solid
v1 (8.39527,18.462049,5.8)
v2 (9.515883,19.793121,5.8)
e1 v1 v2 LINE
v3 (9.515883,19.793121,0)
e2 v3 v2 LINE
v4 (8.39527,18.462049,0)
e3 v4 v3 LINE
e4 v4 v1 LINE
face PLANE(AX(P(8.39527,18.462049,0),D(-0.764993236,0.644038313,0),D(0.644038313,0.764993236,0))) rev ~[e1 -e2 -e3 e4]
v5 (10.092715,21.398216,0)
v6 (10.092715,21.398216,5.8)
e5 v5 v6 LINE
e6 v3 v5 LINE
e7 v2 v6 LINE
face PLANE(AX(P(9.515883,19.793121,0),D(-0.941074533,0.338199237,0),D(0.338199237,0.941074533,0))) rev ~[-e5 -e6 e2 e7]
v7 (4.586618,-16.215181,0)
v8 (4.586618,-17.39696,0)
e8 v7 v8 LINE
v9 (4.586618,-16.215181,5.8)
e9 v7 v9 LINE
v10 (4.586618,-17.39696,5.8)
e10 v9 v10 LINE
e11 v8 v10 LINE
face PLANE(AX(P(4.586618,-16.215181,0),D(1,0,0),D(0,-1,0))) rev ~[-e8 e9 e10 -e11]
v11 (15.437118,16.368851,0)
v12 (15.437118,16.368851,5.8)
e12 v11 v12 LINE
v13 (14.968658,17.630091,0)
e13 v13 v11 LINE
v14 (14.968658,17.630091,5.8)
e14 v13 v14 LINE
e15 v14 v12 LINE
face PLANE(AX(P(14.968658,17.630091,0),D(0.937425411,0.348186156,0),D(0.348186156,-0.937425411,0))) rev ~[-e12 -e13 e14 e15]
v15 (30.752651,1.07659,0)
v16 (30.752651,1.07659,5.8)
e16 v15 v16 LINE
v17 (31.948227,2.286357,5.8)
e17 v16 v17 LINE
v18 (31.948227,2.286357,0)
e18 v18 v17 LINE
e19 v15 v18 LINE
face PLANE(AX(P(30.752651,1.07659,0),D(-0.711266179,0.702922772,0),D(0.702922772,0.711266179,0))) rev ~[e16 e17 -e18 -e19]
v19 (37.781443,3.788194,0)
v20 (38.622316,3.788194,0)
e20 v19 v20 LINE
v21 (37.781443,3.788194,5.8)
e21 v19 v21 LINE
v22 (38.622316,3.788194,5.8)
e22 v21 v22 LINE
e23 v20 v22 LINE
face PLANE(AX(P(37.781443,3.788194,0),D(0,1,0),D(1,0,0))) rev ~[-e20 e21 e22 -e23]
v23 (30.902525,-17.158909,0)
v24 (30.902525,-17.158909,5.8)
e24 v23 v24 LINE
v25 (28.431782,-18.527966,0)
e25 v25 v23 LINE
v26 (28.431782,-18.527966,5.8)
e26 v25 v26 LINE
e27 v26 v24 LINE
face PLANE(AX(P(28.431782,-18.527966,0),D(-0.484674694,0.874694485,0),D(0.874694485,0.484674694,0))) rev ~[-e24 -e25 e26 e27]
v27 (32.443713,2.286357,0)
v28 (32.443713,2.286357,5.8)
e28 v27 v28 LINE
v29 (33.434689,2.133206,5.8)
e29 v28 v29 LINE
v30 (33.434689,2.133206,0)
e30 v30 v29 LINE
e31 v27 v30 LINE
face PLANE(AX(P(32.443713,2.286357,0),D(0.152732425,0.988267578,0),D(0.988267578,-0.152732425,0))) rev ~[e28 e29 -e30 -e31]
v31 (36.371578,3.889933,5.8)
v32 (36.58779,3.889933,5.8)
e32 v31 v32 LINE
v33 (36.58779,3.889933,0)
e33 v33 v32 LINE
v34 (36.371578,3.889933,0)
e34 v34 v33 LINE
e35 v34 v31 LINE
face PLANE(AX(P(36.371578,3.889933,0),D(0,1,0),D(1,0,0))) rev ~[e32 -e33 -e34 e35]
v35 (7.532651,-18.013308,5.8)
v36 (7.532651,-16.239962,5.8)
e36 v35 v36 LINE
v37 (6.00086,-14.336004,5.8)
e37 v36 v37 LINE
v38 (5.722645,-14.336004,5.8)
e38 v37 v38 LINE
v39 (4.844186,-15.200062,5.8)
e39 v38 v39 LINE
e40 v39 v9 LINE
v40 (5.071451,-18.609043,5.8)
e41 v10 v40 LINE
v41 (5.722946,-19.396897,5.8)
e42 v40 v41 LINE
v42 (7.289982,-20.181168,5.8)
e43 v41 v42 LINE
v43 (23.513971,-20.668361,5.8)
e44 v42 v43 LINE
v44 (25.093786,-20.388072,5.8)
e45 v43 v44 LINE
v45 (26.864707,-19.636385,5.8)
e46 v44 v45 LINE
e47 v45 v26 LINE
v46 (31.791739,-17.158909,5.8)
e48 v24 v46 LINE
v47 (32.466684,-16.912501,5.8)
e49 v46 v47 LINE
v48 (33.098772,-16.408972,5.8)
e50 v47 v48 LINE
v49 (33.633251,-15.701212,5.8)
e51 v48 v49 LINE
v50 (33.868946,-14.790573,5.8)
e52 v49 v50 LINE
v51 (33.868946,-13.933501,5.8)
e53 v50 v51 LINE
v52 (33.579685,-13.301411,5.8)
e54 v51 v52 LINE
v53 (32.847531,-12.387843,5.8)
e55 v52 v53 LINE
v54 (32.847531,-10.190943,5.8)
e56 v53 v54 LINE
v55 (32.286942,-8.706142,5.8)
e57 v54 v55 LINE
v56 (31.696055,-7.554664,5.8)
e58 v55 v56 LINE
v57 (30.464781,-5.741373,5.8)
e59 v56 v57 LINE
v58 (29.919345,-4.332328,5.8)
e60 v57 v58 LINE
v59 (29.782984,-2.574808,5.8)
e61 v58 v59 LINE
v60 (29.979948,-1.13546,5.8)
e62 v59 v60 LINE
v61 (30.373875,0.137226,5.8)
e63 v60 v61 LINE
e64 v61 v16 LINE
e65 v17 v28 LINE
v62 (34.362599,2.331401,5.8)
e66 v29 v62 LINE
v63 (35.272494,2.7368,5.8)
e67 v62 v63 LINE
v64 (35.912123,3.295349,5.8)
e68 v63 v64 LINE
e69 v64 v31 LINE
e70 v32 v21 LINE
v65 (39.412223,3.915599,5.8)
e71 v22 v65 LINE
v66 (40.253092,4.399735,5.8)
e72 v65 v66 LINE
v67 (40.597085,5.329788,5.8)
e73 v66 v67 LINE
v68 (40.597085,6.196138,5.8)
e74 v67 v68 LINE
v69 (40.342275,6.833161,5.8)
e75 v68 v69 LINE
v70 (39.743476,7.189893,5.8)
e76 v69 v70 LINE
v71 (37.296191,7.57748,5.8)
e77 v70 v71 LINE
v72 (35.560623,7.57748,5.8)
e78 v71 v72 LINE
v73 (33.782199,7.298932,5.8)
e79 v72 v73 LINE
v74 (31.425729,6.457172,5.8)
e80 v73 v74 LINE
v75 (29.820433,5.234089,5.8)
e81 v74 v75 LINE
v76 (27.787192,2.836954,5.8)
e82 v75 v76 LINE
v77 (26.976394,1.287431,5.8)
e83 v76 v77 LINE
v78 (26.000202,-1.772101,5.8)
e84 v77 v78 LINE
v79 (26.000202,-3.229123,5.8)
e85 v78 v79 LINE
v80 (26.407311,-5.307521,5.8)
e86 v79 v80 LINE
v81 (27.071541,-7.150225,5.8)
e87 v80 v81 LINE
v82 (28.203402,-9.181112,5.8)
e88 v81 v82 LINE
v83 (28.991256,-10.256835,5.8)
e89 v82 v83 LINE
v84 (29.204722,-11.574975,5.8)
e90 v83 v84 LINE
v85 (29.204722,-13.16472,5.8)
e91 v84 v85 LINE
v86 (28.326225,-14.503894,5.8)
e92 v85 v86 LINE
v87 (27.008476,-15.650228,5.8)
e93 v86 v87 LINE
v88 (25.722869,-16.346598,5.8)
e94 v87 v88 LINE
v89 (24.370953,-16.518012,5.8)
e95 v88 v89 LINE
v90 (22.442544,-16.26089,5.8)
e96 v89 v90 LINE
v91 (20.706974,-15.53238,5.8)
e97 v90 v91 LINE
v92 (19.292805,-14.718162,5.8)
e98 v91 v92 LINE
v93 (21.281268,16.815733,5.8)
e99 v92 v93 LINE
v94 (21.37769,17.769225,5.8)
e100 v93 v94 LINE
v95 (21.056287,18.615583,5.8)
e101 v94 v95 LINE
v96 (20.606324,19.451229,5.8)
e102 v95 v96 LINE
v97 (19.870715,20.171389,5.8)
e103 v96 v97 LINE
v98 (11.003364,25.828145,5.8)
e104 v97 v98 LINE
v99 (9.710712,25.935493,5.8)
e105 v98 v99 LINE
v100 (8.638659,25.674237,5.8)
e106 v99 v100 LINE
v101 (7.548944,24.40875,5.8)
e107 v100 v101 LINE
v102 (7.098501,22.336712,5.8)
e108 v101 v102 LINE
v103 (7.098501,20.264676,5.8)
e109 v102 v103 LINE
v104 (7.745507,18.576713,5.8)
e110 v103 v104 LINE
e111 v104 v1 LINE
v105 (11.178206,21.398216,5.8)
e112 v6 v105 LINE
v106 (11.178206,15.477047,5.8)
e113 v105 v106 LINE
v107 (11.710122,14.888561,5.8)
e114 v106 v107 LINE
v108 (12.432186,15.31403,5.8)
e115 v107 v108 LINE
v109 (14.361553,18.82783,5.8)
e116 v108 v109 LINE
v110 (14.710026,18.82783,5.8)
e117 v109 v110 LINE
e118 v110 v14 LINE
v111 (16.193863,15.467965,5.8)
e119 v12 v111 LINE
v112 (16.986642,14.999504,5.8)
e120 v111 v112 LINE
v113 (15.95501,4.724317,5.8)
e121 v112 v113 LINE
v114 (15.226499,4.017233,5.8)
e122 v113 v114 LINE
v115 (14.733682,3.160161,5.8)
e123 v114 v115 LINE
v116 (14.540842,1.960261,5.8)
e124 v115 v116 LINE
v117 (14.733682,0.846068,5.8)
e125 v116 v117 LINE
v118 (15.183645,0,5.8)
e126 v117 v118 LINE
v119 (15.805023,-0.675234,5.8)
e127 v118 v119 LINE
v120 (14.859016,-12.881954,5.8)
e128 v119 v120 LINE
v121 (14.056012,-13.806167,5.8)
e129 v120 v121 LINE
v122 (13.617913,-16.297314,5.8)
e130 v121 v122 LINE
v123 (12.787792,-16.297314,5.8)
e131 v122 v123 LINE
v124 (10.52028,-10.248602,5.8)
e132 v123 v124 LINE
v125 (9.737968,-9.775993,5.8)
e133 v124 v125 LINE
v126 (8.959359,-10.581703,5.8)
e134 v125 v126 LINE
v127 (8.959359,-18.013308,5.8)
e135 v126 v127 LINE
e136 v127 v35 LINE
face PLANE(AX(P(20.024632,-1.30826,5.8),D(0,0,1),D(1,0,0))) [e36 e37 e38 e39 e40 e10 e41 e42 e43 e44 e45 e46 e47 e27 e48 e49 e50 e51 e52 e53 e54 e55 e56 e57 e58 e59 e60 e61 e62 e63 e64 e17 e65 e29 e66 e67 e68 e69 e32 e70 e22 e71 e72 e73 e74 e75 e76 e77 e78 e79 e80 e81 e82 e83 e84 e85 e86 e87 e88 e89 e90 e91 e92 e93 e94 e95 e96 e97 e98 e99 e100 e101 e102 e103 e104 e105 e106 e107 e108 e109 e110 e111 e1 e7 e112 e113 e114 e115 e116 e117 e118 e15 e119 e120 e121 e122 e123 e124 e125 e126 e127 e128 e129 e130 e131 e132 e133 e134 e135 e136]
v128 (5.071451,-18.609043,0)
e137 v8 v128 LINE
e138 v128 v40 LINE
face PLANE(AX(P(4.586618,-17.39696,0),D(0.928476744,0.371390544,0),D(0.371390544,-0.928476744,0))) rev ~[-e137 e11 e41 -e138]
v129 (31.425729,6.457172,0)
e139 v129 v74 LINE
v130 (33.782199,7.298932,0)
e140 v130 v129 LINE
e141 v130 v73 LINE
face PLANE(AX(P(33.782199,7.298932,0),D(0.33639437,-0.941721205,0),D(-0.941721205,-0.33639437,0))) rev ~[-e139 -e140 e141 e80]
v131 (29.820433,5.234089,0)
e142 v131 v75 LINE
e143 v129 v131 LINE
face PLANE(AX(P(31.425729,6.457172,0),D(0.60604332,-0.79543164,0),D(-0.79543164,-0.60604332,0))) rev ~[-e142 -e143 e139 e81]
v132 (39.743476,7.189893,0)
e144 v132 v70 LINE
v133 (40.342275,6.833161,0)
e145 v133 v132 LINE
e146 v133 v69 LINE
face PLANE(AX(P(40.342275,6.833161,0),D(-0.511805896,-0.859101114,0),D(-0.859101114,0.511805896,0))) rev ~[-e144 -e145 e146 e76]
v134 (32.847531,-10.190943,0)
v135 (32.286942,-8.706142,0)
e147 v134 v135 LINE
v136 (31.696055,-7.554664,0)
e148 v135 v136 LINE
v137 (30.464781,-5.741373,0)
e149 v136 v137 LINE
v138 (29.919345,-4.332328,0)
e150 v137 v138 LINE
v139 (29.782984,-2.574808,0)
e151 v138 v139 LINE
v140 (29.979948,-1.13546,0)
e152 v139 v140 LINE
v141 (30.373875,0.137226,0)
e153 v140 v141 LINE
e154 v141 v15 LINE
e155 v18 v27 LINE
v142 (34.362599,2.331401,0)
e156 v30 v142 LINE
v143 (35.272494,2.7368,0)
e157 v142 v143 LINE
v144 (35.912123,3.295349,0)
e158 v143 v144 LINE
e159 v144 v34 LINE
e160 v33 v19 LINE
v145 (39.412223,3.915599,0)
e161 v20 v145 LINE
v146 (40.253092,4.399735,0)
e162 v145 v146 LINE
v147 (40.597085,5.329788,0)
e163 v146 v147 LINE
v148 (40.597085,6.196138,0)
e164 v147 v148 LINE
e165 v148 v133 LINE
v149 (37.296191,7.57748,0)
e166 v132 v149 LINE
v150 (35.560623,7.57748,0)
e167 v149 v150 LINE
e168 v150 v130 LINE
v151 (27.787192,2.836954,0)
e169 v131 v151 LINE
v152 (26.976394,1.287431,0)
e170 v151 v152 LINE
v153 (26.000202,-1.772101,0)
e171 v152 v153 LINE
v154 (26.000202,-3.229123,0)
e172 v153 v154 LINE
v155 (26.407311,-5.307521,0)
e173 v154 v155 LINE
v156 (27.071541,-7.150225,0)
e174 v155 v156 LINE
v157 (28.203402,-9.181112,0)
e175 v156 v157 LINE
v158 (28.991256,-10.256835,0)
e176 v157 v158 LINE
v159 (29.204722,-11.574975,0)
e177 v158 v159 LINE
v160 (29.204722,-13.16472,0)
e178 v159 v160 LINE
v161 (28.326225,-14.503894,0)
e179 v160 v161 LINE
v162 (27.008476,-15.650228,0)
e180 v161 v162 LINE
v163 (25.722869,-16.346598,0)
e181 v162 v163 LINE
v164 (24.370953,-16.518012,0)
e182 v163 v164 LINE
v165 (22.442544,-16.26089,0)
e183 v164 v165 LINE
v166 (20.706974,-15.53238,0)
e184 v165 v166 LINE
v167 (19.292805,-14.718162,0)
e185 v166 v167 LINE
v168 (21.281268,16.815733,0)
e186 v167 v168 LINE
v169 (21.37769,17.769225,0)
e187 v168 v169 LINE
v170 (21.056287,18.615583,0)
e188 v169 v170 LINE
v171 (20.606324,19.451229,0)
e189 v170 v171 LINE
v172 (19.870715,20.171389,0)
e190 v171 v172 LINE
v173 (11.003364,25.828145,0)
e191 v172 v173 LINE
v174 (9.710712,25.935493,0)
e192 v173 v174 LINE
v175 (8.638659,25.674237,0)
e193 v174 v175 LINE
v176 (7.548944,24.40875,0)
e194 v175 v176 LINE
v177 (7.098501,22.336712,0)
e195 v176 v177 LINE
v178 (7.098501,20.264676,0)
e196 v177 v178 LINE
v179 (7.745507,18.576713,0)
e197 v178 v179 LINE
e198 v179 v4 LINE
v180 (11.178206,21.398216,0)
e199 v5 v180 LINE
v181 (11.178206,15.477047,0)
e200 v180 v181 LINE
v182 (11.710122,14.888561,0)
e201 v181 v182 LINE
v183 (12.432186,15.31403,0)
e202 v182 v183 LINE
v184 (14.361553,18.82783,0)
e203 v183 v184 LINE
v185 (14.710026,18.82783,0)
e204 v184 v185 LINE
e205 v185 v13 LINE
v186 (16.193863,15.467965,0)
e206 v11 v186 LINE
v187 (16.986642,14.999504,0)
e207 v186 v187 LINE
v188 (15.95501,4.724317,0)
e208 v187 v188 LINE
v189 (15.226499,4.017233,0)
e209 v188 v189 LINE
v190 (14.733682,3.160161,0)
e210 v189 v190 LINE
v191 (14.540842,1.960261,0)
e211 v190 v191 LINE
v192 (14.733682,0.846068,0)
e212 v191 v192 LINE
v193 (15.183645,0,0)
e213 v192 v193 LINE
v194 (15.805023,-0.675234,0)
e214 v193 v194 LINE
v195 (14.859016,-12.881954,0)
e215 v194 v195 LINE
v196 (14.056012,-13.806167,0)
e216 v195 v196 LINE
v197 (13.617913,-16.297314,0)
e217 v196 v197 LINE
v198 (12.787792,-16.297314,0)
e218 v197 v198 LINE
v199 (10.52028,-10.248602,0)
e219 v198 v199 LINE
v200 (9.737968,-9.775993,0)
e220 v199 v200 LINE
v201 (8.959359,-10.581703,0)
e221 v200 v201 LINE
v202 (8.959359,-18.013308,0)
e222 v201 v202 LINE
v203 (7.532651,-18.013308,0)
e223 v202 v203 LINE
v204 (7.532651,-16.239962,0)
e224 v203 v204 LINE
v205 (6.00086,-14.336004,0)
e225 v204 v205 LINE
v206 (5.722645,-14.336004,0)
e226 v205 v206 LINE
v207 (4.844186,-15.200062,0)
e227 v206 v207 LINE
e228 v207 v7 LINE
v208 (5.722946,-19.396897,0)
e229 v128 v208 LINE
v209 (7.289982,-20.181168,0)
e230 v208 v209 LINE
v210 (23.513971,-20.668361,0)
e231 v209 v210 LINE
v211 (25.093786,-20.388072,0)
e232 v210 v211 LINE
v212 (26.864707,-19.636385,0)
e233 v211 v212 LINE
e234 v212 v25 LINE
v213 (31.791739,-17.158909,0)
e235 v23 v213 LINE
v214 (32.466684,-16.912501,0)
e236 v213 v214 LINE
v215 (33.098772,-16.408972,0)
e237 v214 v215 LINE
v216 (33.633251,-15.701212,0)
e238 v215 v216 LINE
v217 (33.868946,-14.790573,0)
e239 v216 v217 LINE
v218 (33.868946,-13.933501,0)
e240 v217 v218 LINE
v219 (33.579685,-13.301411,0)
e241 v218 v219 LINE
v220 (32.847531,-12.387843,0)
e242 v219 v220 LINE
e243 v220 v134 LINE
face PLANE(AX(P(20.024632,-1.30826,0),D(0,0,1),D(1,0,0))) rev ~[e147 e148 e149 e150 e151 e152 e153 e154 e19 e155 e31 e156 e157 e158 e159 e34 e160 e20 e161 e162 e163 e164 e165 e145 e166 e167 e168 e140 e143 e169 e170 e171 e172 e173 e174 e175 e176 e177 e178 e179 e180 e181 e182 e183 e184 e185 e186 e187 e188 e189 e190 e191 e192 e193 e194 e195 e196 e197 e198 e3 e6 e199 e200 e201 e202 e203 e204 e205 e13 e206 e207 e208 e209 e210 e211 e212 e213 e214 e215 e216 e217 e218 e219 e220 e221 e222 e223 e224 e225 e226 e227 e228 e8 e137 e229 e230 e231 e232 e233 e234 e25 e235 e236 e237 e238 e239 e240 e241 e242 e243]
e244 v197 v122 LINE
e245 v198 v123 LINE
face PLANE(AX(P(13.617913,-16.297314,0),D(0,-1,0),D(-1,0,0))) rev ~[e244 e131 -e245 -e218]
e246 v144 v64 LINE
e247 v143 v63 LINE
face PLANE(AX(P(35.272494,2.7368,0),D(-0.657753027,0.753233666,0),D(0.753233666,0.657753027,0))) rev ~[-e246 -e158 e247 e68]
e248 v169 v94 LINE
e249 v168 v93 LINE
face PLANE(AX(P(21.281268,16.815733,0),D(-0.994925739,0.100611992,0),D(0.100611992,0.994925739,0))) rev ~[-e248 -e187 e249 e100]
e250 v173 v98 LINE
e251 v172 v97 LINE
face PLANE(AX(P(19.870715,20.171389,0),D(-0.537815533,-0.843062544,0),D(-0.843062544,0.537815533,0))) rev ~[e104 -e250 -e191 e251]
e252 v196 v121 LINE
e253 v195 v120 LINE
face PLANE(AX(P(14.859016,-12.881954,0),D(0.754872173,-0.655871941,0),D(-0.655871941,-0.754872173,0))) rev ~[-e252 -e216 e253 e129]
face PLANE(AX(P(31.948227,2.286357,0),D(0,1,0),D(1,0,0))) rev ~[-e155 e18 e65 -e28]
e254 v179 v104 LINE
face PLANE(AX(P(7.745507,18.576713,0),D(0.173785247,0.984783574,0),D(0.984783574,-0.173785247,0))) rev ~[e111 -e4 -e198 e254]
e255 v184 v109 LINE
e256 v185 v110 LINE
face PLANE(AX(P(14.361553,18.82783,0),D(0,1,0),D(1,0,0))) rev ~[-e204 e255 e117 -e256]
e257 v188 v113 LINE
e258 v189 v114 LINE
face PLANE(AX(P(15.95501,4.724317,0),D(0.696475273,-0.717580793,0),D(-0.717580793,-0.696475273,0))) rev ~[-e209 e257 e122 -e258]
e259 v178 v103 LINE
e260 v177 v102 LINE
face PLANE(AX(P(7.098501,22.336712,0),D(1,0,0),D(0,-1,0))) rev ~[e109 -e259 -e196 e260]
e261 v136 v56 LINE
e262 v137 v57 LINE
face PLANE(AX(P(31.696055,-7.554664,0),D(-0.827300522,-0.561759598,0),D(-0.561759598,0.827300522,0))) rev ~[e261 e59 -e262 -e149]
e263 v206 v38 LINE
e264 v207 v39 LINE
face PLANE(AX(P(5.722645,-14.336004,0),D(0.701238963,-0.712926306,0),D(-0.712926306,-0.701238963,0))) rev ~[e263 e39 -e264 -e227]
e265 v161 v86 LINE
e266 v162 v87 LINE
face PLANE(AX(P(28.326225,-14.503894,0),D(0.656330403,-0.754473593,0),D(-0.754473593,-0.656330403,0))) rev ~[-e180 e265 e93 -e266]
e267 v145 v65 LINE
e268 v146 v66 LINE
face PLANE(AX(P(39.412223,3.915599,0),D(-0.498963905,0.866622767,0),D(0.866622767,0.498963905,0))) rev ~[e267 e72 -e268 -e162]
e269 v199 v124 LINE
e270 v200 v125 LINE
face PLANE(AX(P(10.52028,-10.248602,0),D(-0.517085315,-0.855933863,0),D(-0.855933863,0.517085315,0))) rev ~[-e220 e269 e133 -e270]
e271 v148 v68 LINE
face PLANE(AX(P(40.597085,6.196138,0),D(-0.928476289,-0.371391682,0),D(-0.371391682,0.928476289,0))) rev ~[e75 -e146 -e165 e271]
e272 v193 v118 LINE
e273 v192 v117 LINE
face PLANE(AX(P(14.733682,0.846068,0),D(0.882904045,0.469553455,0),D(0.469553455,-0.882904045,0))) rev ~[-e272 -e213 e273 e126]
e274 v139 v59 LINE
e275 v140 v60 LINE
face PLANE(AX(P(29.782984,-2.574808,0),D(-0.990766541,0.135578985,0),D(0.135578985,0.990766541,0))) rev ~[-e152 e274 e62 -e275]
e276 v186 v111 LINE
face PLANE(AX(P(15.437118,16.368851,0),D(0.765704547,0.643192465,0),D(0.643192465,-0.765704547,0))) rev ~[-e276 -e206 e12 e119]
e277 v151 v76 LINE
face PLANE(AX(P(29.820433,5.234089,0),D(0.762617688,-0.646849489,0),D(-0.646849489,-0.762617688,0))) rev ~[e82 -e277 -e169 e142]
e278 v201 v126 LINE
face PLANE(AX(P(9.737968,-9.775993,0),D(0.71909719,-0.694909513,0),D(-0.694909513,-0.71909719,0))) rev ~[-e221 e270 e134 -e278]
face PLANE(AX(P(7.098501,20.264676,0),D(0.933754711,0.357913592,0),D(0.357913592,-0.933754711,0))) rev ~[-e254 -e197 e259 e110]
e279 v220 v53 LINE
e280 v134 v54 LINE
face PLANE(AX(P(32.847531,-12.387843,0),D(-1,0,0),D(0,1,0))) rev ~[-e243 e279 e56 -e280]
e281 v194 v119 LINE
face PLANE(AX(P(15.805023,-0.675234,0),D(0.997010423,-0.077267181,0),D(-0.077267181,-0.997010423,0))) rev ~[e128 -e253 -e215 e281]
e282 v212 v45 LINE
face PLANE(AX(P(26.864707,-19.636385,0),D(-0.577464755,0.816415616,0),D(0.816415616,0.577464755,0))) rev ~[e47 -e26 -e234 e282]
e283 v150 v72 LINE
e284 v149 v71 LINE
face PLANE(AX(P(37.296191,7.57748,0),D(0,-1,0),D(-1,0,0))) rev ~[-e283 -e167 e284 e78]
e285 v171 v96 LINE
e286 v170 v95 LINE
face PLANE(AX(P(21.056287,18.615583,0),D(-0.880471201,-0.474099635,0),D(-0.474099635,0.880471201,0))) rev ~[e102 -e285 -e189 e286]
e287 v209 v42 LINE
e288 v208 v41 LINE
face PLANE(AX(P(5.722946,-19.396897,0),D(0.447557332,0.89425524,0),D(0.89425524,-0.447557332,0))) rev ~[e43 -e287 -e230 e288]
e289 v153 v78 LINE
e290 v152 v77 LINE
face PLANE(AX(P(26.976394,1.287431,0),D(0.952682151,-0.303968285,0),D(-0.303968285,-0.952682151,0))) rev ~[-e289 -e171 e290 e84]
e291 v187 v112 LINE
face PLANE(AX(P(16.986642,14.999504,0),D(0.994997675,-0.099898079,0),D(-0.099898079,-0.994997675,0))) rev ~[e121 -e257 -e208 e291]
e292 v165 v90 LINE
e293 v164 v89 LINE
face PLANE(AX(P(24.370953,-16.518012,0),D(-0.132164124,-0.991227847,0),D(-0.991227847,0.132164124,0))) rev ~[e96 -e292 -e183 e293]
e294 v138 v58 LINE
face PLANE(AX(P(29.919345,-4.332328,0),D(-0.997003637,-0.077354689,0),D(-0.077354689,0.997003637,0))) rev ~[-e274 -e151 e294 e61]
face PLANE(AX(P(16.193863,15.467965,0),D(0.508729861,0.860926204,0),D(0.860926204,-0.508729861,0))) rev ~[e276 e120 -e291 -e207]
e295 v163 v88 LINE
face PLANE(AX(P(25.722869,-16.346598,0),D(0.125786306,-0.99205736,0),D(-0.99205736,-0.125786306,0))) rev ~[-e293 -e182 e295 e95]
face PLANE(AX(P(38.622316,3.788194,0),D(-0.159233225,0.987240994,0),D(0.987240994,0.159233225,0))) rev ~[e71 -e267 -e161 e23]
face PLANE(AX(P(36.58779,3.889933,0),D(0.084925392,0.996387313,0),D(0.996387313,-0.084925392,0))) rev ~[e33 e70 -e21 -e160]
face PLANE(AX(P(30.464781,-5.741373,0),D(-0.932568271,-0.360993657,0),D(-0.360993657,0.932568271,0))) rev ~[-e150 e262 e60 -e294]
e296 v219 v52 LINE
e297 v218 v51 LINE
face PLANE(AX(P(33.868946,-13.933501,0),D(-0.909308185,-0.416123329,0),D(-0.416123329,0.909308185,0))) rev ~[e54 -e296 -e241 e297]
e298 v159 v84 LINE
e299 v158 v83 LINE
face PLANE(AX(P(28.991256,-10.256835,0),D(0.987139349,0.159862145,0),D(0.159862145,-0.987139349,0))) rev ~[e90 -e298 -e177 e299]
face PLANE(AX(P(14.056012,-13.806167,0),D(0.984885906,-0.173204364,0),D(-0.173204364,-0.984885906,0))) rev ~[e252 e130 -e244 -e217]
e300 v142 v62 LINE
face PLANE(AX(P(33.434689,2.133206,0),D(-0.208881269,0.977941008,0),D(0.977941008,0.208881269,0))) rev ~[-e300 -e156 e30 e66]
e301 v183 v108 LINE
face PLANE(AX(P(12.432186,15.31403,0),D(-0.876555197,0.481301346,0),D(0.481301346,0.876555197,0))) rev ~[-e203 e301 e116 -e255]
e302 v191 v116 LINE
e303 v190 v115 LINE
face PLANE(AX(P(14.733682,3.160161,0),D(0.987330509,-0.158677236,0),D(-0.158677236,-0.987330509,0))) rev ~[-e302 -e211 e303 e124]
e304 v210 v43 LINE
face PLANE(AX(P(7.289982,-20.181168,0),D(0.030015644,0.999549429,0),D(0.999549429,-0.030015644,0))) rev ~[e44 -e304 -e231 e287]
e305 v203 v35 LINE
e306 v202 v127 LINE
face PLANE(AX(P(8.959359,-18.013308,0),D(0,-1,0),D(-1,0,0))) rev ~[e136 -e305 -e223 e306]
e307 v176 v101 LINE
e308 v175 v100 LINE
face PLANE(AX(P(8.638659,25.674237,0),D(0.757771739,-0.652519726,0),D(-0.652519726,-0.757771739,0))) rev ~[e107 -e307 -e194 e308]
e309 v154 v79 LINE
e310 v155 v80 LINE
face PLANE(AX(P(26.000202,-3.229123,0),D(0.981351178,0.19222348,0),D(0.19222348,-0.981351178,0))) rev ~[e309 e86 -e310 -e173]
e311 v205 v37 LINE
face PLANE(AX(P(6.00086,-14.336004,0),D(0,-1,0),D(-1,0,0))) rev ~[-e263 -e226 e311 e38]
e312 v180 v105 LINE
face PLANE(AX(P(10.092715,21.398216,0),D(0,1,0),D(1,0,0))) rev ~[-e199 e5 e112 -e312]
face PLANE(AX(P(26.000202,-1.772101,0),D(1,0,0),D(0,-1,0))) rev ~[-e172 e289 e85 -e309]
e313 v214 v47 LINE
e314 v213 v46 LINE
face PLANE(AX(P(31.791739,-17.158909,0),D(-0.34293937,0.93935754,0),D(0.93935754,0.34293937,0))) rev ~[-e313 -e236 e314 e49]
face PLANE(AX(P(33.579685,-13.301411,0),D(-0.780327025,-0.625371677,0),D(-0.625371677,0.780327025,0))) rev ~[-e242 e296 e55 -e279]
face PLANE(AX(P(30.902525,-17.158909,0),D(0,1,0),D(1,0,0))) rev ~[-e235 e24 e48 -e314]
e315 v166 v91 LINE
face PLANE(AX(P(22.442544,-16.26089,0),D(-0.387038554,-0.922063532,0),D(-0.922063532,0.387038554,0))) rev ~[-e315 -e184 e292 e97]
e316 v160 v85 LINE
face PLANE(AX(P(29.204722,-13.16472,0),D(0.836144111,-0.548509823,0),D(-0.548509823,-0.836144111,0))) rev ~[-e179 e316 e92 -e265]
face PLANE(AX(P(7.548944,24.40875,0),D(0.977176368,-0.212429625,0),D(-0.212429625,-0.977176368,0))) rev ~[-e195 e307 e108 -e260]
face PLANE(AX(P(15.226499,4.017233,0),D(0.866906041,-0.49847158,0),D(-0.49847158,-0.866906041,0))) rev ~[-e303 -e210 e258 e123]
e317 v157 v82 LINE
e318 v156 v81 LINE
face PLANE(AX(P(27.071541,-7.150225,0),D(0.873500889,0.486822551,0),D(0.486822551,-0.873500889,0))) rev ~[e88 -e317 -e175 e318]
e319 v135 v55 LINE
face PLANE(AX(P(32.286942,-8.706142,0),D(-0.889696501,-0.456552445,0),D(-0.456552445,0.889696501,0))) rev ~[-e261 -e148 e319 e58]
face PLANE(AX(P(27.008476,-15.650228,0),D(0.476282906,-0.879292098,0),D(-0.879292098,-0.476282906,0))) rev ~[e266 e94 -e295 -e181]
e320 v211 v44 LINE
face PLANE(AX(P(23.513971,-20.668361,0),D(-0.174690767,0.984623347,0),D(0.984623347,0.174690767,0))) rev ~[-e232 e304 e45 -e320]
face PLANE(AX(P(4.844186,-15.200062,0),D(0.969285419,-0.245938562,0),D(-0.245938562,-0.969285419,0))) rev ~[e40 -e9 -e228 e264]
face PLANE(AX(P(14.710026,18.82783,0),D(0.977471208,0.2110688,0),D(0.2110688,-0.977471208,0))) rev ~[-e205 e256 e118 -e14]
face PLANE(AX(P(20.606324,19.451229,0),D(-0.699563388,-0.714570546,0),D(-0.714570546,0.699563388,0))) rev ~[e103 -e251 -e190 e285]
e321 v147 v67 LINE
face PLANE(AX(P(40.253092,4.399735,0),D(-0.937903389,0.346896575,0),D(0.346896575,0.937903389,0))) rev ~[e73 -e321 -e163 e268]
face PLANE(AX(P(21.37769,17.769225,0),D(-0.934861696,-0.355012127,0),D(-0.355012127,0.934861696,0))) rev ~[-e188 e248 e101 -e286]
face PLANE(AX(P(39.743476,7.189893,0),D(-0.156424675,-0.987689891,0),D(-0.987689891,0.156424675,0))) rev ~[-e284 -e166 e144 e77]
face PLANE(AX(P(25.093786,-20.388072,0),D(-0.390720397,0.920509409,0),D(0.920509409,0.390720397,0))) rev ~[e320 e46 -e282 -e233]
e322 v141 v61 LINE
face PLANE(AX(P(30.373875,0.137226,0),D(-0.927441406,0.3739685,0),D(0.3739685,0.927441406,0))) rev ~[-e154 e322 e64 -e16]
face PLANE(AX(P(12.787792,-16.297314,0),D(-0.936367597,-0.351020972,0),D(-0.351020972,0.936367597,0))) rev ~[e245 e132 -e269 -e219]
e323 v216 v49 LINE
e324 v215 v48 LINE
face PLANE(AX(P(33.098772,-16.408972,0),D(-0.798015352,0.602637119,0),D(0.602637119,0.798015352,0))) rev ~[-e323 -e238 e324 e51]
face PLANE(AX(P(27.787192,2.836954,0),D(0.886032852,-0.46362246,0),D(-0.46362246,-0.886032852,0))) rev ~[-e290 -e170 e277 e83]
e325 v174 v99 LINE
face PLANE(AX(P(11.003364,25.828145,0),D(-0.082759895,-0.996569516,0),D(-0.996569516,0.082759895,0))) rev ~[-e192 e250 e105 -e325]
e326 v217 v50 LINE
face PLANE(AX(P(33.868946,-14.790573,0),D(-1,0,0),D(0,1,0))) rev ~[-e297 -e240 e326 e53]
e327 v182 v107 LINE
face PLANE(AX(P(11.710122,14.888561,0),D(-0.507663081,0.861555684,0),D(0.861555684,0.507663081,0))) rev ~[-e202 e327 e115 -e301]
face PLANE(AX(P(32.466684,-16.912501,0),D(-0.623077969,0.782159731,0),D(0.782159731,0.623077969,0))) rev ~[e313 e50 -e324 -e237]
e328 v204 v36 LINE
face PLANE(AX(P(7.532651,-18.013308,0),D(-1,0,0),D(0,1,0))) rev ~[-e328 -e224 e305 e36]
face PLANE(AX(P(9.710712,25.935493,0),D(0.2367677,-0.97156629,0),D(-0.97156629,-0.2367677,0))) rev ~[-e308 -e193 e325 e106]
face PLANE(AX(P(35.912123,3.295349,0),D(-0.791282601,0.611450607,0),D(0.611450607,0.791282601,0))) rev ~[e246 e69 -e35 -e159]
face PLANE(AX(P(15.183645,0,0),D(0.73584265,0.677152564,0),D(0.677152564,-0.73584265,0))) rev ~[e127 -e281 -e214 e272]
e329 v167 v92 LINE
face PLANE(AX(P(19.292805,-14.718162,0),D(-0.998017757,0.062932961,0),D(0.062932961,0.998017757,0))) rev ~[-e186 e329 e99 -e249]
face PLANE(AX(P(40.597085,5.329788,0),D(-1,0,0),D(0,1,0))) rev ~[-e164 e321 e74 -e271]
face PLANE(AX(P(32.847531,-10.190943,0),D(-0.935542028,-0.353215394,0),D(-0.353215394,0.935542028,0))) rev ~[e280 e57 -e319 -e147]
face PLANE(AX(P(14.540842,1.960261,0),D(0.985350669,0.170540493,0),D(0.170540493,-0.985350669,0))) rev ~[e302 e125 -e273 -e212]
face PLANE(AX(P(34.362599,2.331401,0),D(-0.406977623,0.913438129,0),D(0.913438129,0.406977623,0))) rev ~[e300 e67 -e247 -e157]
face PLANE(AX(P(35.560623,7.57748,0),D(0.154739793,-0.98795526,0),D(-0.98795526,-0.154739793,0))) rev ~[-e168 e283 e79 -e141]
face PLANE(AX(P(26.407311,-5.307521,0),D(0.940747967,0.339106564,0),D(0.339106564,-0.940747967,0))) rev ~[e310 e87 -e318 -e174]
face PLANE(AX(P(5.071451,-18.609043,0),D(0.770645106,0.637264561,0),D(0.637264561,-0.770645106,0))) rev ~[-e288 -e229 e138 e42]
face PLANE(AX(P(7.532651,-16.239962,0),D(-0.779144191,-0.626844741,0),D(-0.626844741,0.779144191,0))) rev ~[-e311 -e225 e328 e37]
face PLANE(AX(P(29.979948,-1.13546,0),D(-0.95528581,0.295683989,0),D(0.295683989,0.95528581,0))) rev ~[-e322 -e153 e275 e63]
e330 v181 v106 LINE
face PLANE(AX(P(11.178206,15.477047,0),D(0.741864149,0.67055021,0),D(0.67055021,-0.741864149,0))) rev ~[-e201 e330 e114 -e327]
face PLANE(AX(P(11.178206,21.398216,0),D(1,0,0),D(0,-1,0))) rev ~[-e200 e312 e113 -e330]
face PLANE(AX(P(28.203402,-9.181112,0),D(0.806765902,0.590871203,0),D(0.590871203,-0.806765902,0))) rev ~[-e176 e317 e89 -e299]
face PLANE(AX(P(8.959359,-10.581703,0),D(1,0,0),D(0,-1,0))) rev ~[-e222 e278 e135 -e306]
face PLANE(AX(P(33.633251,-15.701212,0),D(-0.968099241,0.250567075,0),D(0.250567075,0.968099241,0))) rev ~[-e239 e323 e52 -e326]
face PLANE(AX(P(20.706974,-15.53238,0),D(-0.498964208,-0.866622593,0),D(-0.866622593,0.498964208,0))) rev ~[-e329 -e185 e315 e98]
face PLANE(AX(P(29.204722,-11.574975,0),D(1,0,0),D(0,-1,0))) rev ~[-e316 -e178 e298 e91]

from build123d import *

# Parameters (mm, degrees)
F1_DEPTH = 5.8


with BuildPart() as f1:
    # F0 (on Top) → F1 (new body)
    with BuildSketch(Plane.XY):
        Polygon((19.870715, 20.171389), (11.003364, 25.828145), (9.710712, 25.935493), (8.638659, 25.674237), (7.548944, 24.40875), (7.098501, 22.336712), (7.098501, 20.264676), (7.745507, 18.576713), (8.39527, 18.462049), (9.515883, 19.793121), (10.092715, 21.398216), (11.178206, 21.398216), (11.178206, 15.477047), (11.710122, 14.888561), (12.432186, 15.31403), (14.361553, 18.82783), (14.710026, 18.82783), (14.968658, 17.630091), (15.437118, 16.368851), (16.193863, 15.467965), (16.986642, 14.999504), (15.95501, 4.724317), (15.226499, 4.017233), (14.733682, 3.160161), (14.540842, 1.960261), (14.733682, 0.846068), (15.183645, 0), (15.805023, -0.675234), (14.859016, -12.881954), (14.056012, -13.806167), (13.617913, -16.297314), (12.787792, -16.297314), (10.52028, -10.248602), (9.737968, -9.775993), (8.959359, -10.581703), (8.959359, -18.013308), (7.532651, -18.013308), (7.532651, -16.239962), (6.00086, -14.336004), (5.722645, -14.336004), (4.844186, -15.200062), (4.586618, -16.215181), (4.586618, -17.39696), (5.071451, -18.609043), (5.722946, -19.396897), (7.289982, -20.181168), (23.513971, -20.668361), (25.093786, -20.388072), (26.864707, -19.636385), (28.431782, -18.527966), (30.902525, -17.158909), (31.791739, -17.158909), (32.466684, -16.912501), (33.098772, -16.408972), (33.633251, -15.701212), (33.868946, -14.790573), (33.868946, -13.933501), (33.579685, -13.301411), (32.847531, -12.387843), (32.847531, -11.59999), (32.847531, -10.190943), (32.286942, -8.706142), (31.696055, -7.554664), (30.464781, -5.741373), (29.919345, -4.332328), (29.782984, -2.574808), (29.979948, -1.13546), (30.373875, 0.137226), (30.752651, 1.07659), (31.948227, 2.286357), (32.443713, 2.286357), (33.434689, 2.133206), (34.362599, 2.331401), (35.272494, 2.7368), (35.912123, 3.295349), (36.371578, 3.889933), (36.58779, 3.889933), (37.781443, 3.788194), (38.622316, 3.788194), (39.412223, 3.915599), (40.253092, 4.399735), (40.597085, 5.329788), (40.597085, 6.196138), (40.342275, 6.833161), (39.743476, 7.189893), (37.296191, 7.57748), (35.560623, 7.57748), (33.782199, 7.298932), (31.425729, 6.457172), (29.820433, 5.234089), (27.787192, 2.836954), (26.976394, 1.287431), (26.000202, -1.772101), (26.000202, -3.229123), (26.407311, -5.307521), (27.071541, -7.150225), (28.203402, -9.181112), (28.991256, -10.256835), (29.204722, -11.574975), (29.204722, -13.16472), (28.326225, -14.503894), (27.008476, -15.650228), (25.722869, -16.346598), (24.370953, -16.518012), (22.442544, -16.26089), (20.706974, -15.53238), (19.292805, -14.718162), (21.281268, 16.815733), (21.37769, 17.769225), (21.056287, 18.615583), (20.606324, 19.451229), align=None)
    extrude(amount=F1_DEPTH)


solid = f1.part
